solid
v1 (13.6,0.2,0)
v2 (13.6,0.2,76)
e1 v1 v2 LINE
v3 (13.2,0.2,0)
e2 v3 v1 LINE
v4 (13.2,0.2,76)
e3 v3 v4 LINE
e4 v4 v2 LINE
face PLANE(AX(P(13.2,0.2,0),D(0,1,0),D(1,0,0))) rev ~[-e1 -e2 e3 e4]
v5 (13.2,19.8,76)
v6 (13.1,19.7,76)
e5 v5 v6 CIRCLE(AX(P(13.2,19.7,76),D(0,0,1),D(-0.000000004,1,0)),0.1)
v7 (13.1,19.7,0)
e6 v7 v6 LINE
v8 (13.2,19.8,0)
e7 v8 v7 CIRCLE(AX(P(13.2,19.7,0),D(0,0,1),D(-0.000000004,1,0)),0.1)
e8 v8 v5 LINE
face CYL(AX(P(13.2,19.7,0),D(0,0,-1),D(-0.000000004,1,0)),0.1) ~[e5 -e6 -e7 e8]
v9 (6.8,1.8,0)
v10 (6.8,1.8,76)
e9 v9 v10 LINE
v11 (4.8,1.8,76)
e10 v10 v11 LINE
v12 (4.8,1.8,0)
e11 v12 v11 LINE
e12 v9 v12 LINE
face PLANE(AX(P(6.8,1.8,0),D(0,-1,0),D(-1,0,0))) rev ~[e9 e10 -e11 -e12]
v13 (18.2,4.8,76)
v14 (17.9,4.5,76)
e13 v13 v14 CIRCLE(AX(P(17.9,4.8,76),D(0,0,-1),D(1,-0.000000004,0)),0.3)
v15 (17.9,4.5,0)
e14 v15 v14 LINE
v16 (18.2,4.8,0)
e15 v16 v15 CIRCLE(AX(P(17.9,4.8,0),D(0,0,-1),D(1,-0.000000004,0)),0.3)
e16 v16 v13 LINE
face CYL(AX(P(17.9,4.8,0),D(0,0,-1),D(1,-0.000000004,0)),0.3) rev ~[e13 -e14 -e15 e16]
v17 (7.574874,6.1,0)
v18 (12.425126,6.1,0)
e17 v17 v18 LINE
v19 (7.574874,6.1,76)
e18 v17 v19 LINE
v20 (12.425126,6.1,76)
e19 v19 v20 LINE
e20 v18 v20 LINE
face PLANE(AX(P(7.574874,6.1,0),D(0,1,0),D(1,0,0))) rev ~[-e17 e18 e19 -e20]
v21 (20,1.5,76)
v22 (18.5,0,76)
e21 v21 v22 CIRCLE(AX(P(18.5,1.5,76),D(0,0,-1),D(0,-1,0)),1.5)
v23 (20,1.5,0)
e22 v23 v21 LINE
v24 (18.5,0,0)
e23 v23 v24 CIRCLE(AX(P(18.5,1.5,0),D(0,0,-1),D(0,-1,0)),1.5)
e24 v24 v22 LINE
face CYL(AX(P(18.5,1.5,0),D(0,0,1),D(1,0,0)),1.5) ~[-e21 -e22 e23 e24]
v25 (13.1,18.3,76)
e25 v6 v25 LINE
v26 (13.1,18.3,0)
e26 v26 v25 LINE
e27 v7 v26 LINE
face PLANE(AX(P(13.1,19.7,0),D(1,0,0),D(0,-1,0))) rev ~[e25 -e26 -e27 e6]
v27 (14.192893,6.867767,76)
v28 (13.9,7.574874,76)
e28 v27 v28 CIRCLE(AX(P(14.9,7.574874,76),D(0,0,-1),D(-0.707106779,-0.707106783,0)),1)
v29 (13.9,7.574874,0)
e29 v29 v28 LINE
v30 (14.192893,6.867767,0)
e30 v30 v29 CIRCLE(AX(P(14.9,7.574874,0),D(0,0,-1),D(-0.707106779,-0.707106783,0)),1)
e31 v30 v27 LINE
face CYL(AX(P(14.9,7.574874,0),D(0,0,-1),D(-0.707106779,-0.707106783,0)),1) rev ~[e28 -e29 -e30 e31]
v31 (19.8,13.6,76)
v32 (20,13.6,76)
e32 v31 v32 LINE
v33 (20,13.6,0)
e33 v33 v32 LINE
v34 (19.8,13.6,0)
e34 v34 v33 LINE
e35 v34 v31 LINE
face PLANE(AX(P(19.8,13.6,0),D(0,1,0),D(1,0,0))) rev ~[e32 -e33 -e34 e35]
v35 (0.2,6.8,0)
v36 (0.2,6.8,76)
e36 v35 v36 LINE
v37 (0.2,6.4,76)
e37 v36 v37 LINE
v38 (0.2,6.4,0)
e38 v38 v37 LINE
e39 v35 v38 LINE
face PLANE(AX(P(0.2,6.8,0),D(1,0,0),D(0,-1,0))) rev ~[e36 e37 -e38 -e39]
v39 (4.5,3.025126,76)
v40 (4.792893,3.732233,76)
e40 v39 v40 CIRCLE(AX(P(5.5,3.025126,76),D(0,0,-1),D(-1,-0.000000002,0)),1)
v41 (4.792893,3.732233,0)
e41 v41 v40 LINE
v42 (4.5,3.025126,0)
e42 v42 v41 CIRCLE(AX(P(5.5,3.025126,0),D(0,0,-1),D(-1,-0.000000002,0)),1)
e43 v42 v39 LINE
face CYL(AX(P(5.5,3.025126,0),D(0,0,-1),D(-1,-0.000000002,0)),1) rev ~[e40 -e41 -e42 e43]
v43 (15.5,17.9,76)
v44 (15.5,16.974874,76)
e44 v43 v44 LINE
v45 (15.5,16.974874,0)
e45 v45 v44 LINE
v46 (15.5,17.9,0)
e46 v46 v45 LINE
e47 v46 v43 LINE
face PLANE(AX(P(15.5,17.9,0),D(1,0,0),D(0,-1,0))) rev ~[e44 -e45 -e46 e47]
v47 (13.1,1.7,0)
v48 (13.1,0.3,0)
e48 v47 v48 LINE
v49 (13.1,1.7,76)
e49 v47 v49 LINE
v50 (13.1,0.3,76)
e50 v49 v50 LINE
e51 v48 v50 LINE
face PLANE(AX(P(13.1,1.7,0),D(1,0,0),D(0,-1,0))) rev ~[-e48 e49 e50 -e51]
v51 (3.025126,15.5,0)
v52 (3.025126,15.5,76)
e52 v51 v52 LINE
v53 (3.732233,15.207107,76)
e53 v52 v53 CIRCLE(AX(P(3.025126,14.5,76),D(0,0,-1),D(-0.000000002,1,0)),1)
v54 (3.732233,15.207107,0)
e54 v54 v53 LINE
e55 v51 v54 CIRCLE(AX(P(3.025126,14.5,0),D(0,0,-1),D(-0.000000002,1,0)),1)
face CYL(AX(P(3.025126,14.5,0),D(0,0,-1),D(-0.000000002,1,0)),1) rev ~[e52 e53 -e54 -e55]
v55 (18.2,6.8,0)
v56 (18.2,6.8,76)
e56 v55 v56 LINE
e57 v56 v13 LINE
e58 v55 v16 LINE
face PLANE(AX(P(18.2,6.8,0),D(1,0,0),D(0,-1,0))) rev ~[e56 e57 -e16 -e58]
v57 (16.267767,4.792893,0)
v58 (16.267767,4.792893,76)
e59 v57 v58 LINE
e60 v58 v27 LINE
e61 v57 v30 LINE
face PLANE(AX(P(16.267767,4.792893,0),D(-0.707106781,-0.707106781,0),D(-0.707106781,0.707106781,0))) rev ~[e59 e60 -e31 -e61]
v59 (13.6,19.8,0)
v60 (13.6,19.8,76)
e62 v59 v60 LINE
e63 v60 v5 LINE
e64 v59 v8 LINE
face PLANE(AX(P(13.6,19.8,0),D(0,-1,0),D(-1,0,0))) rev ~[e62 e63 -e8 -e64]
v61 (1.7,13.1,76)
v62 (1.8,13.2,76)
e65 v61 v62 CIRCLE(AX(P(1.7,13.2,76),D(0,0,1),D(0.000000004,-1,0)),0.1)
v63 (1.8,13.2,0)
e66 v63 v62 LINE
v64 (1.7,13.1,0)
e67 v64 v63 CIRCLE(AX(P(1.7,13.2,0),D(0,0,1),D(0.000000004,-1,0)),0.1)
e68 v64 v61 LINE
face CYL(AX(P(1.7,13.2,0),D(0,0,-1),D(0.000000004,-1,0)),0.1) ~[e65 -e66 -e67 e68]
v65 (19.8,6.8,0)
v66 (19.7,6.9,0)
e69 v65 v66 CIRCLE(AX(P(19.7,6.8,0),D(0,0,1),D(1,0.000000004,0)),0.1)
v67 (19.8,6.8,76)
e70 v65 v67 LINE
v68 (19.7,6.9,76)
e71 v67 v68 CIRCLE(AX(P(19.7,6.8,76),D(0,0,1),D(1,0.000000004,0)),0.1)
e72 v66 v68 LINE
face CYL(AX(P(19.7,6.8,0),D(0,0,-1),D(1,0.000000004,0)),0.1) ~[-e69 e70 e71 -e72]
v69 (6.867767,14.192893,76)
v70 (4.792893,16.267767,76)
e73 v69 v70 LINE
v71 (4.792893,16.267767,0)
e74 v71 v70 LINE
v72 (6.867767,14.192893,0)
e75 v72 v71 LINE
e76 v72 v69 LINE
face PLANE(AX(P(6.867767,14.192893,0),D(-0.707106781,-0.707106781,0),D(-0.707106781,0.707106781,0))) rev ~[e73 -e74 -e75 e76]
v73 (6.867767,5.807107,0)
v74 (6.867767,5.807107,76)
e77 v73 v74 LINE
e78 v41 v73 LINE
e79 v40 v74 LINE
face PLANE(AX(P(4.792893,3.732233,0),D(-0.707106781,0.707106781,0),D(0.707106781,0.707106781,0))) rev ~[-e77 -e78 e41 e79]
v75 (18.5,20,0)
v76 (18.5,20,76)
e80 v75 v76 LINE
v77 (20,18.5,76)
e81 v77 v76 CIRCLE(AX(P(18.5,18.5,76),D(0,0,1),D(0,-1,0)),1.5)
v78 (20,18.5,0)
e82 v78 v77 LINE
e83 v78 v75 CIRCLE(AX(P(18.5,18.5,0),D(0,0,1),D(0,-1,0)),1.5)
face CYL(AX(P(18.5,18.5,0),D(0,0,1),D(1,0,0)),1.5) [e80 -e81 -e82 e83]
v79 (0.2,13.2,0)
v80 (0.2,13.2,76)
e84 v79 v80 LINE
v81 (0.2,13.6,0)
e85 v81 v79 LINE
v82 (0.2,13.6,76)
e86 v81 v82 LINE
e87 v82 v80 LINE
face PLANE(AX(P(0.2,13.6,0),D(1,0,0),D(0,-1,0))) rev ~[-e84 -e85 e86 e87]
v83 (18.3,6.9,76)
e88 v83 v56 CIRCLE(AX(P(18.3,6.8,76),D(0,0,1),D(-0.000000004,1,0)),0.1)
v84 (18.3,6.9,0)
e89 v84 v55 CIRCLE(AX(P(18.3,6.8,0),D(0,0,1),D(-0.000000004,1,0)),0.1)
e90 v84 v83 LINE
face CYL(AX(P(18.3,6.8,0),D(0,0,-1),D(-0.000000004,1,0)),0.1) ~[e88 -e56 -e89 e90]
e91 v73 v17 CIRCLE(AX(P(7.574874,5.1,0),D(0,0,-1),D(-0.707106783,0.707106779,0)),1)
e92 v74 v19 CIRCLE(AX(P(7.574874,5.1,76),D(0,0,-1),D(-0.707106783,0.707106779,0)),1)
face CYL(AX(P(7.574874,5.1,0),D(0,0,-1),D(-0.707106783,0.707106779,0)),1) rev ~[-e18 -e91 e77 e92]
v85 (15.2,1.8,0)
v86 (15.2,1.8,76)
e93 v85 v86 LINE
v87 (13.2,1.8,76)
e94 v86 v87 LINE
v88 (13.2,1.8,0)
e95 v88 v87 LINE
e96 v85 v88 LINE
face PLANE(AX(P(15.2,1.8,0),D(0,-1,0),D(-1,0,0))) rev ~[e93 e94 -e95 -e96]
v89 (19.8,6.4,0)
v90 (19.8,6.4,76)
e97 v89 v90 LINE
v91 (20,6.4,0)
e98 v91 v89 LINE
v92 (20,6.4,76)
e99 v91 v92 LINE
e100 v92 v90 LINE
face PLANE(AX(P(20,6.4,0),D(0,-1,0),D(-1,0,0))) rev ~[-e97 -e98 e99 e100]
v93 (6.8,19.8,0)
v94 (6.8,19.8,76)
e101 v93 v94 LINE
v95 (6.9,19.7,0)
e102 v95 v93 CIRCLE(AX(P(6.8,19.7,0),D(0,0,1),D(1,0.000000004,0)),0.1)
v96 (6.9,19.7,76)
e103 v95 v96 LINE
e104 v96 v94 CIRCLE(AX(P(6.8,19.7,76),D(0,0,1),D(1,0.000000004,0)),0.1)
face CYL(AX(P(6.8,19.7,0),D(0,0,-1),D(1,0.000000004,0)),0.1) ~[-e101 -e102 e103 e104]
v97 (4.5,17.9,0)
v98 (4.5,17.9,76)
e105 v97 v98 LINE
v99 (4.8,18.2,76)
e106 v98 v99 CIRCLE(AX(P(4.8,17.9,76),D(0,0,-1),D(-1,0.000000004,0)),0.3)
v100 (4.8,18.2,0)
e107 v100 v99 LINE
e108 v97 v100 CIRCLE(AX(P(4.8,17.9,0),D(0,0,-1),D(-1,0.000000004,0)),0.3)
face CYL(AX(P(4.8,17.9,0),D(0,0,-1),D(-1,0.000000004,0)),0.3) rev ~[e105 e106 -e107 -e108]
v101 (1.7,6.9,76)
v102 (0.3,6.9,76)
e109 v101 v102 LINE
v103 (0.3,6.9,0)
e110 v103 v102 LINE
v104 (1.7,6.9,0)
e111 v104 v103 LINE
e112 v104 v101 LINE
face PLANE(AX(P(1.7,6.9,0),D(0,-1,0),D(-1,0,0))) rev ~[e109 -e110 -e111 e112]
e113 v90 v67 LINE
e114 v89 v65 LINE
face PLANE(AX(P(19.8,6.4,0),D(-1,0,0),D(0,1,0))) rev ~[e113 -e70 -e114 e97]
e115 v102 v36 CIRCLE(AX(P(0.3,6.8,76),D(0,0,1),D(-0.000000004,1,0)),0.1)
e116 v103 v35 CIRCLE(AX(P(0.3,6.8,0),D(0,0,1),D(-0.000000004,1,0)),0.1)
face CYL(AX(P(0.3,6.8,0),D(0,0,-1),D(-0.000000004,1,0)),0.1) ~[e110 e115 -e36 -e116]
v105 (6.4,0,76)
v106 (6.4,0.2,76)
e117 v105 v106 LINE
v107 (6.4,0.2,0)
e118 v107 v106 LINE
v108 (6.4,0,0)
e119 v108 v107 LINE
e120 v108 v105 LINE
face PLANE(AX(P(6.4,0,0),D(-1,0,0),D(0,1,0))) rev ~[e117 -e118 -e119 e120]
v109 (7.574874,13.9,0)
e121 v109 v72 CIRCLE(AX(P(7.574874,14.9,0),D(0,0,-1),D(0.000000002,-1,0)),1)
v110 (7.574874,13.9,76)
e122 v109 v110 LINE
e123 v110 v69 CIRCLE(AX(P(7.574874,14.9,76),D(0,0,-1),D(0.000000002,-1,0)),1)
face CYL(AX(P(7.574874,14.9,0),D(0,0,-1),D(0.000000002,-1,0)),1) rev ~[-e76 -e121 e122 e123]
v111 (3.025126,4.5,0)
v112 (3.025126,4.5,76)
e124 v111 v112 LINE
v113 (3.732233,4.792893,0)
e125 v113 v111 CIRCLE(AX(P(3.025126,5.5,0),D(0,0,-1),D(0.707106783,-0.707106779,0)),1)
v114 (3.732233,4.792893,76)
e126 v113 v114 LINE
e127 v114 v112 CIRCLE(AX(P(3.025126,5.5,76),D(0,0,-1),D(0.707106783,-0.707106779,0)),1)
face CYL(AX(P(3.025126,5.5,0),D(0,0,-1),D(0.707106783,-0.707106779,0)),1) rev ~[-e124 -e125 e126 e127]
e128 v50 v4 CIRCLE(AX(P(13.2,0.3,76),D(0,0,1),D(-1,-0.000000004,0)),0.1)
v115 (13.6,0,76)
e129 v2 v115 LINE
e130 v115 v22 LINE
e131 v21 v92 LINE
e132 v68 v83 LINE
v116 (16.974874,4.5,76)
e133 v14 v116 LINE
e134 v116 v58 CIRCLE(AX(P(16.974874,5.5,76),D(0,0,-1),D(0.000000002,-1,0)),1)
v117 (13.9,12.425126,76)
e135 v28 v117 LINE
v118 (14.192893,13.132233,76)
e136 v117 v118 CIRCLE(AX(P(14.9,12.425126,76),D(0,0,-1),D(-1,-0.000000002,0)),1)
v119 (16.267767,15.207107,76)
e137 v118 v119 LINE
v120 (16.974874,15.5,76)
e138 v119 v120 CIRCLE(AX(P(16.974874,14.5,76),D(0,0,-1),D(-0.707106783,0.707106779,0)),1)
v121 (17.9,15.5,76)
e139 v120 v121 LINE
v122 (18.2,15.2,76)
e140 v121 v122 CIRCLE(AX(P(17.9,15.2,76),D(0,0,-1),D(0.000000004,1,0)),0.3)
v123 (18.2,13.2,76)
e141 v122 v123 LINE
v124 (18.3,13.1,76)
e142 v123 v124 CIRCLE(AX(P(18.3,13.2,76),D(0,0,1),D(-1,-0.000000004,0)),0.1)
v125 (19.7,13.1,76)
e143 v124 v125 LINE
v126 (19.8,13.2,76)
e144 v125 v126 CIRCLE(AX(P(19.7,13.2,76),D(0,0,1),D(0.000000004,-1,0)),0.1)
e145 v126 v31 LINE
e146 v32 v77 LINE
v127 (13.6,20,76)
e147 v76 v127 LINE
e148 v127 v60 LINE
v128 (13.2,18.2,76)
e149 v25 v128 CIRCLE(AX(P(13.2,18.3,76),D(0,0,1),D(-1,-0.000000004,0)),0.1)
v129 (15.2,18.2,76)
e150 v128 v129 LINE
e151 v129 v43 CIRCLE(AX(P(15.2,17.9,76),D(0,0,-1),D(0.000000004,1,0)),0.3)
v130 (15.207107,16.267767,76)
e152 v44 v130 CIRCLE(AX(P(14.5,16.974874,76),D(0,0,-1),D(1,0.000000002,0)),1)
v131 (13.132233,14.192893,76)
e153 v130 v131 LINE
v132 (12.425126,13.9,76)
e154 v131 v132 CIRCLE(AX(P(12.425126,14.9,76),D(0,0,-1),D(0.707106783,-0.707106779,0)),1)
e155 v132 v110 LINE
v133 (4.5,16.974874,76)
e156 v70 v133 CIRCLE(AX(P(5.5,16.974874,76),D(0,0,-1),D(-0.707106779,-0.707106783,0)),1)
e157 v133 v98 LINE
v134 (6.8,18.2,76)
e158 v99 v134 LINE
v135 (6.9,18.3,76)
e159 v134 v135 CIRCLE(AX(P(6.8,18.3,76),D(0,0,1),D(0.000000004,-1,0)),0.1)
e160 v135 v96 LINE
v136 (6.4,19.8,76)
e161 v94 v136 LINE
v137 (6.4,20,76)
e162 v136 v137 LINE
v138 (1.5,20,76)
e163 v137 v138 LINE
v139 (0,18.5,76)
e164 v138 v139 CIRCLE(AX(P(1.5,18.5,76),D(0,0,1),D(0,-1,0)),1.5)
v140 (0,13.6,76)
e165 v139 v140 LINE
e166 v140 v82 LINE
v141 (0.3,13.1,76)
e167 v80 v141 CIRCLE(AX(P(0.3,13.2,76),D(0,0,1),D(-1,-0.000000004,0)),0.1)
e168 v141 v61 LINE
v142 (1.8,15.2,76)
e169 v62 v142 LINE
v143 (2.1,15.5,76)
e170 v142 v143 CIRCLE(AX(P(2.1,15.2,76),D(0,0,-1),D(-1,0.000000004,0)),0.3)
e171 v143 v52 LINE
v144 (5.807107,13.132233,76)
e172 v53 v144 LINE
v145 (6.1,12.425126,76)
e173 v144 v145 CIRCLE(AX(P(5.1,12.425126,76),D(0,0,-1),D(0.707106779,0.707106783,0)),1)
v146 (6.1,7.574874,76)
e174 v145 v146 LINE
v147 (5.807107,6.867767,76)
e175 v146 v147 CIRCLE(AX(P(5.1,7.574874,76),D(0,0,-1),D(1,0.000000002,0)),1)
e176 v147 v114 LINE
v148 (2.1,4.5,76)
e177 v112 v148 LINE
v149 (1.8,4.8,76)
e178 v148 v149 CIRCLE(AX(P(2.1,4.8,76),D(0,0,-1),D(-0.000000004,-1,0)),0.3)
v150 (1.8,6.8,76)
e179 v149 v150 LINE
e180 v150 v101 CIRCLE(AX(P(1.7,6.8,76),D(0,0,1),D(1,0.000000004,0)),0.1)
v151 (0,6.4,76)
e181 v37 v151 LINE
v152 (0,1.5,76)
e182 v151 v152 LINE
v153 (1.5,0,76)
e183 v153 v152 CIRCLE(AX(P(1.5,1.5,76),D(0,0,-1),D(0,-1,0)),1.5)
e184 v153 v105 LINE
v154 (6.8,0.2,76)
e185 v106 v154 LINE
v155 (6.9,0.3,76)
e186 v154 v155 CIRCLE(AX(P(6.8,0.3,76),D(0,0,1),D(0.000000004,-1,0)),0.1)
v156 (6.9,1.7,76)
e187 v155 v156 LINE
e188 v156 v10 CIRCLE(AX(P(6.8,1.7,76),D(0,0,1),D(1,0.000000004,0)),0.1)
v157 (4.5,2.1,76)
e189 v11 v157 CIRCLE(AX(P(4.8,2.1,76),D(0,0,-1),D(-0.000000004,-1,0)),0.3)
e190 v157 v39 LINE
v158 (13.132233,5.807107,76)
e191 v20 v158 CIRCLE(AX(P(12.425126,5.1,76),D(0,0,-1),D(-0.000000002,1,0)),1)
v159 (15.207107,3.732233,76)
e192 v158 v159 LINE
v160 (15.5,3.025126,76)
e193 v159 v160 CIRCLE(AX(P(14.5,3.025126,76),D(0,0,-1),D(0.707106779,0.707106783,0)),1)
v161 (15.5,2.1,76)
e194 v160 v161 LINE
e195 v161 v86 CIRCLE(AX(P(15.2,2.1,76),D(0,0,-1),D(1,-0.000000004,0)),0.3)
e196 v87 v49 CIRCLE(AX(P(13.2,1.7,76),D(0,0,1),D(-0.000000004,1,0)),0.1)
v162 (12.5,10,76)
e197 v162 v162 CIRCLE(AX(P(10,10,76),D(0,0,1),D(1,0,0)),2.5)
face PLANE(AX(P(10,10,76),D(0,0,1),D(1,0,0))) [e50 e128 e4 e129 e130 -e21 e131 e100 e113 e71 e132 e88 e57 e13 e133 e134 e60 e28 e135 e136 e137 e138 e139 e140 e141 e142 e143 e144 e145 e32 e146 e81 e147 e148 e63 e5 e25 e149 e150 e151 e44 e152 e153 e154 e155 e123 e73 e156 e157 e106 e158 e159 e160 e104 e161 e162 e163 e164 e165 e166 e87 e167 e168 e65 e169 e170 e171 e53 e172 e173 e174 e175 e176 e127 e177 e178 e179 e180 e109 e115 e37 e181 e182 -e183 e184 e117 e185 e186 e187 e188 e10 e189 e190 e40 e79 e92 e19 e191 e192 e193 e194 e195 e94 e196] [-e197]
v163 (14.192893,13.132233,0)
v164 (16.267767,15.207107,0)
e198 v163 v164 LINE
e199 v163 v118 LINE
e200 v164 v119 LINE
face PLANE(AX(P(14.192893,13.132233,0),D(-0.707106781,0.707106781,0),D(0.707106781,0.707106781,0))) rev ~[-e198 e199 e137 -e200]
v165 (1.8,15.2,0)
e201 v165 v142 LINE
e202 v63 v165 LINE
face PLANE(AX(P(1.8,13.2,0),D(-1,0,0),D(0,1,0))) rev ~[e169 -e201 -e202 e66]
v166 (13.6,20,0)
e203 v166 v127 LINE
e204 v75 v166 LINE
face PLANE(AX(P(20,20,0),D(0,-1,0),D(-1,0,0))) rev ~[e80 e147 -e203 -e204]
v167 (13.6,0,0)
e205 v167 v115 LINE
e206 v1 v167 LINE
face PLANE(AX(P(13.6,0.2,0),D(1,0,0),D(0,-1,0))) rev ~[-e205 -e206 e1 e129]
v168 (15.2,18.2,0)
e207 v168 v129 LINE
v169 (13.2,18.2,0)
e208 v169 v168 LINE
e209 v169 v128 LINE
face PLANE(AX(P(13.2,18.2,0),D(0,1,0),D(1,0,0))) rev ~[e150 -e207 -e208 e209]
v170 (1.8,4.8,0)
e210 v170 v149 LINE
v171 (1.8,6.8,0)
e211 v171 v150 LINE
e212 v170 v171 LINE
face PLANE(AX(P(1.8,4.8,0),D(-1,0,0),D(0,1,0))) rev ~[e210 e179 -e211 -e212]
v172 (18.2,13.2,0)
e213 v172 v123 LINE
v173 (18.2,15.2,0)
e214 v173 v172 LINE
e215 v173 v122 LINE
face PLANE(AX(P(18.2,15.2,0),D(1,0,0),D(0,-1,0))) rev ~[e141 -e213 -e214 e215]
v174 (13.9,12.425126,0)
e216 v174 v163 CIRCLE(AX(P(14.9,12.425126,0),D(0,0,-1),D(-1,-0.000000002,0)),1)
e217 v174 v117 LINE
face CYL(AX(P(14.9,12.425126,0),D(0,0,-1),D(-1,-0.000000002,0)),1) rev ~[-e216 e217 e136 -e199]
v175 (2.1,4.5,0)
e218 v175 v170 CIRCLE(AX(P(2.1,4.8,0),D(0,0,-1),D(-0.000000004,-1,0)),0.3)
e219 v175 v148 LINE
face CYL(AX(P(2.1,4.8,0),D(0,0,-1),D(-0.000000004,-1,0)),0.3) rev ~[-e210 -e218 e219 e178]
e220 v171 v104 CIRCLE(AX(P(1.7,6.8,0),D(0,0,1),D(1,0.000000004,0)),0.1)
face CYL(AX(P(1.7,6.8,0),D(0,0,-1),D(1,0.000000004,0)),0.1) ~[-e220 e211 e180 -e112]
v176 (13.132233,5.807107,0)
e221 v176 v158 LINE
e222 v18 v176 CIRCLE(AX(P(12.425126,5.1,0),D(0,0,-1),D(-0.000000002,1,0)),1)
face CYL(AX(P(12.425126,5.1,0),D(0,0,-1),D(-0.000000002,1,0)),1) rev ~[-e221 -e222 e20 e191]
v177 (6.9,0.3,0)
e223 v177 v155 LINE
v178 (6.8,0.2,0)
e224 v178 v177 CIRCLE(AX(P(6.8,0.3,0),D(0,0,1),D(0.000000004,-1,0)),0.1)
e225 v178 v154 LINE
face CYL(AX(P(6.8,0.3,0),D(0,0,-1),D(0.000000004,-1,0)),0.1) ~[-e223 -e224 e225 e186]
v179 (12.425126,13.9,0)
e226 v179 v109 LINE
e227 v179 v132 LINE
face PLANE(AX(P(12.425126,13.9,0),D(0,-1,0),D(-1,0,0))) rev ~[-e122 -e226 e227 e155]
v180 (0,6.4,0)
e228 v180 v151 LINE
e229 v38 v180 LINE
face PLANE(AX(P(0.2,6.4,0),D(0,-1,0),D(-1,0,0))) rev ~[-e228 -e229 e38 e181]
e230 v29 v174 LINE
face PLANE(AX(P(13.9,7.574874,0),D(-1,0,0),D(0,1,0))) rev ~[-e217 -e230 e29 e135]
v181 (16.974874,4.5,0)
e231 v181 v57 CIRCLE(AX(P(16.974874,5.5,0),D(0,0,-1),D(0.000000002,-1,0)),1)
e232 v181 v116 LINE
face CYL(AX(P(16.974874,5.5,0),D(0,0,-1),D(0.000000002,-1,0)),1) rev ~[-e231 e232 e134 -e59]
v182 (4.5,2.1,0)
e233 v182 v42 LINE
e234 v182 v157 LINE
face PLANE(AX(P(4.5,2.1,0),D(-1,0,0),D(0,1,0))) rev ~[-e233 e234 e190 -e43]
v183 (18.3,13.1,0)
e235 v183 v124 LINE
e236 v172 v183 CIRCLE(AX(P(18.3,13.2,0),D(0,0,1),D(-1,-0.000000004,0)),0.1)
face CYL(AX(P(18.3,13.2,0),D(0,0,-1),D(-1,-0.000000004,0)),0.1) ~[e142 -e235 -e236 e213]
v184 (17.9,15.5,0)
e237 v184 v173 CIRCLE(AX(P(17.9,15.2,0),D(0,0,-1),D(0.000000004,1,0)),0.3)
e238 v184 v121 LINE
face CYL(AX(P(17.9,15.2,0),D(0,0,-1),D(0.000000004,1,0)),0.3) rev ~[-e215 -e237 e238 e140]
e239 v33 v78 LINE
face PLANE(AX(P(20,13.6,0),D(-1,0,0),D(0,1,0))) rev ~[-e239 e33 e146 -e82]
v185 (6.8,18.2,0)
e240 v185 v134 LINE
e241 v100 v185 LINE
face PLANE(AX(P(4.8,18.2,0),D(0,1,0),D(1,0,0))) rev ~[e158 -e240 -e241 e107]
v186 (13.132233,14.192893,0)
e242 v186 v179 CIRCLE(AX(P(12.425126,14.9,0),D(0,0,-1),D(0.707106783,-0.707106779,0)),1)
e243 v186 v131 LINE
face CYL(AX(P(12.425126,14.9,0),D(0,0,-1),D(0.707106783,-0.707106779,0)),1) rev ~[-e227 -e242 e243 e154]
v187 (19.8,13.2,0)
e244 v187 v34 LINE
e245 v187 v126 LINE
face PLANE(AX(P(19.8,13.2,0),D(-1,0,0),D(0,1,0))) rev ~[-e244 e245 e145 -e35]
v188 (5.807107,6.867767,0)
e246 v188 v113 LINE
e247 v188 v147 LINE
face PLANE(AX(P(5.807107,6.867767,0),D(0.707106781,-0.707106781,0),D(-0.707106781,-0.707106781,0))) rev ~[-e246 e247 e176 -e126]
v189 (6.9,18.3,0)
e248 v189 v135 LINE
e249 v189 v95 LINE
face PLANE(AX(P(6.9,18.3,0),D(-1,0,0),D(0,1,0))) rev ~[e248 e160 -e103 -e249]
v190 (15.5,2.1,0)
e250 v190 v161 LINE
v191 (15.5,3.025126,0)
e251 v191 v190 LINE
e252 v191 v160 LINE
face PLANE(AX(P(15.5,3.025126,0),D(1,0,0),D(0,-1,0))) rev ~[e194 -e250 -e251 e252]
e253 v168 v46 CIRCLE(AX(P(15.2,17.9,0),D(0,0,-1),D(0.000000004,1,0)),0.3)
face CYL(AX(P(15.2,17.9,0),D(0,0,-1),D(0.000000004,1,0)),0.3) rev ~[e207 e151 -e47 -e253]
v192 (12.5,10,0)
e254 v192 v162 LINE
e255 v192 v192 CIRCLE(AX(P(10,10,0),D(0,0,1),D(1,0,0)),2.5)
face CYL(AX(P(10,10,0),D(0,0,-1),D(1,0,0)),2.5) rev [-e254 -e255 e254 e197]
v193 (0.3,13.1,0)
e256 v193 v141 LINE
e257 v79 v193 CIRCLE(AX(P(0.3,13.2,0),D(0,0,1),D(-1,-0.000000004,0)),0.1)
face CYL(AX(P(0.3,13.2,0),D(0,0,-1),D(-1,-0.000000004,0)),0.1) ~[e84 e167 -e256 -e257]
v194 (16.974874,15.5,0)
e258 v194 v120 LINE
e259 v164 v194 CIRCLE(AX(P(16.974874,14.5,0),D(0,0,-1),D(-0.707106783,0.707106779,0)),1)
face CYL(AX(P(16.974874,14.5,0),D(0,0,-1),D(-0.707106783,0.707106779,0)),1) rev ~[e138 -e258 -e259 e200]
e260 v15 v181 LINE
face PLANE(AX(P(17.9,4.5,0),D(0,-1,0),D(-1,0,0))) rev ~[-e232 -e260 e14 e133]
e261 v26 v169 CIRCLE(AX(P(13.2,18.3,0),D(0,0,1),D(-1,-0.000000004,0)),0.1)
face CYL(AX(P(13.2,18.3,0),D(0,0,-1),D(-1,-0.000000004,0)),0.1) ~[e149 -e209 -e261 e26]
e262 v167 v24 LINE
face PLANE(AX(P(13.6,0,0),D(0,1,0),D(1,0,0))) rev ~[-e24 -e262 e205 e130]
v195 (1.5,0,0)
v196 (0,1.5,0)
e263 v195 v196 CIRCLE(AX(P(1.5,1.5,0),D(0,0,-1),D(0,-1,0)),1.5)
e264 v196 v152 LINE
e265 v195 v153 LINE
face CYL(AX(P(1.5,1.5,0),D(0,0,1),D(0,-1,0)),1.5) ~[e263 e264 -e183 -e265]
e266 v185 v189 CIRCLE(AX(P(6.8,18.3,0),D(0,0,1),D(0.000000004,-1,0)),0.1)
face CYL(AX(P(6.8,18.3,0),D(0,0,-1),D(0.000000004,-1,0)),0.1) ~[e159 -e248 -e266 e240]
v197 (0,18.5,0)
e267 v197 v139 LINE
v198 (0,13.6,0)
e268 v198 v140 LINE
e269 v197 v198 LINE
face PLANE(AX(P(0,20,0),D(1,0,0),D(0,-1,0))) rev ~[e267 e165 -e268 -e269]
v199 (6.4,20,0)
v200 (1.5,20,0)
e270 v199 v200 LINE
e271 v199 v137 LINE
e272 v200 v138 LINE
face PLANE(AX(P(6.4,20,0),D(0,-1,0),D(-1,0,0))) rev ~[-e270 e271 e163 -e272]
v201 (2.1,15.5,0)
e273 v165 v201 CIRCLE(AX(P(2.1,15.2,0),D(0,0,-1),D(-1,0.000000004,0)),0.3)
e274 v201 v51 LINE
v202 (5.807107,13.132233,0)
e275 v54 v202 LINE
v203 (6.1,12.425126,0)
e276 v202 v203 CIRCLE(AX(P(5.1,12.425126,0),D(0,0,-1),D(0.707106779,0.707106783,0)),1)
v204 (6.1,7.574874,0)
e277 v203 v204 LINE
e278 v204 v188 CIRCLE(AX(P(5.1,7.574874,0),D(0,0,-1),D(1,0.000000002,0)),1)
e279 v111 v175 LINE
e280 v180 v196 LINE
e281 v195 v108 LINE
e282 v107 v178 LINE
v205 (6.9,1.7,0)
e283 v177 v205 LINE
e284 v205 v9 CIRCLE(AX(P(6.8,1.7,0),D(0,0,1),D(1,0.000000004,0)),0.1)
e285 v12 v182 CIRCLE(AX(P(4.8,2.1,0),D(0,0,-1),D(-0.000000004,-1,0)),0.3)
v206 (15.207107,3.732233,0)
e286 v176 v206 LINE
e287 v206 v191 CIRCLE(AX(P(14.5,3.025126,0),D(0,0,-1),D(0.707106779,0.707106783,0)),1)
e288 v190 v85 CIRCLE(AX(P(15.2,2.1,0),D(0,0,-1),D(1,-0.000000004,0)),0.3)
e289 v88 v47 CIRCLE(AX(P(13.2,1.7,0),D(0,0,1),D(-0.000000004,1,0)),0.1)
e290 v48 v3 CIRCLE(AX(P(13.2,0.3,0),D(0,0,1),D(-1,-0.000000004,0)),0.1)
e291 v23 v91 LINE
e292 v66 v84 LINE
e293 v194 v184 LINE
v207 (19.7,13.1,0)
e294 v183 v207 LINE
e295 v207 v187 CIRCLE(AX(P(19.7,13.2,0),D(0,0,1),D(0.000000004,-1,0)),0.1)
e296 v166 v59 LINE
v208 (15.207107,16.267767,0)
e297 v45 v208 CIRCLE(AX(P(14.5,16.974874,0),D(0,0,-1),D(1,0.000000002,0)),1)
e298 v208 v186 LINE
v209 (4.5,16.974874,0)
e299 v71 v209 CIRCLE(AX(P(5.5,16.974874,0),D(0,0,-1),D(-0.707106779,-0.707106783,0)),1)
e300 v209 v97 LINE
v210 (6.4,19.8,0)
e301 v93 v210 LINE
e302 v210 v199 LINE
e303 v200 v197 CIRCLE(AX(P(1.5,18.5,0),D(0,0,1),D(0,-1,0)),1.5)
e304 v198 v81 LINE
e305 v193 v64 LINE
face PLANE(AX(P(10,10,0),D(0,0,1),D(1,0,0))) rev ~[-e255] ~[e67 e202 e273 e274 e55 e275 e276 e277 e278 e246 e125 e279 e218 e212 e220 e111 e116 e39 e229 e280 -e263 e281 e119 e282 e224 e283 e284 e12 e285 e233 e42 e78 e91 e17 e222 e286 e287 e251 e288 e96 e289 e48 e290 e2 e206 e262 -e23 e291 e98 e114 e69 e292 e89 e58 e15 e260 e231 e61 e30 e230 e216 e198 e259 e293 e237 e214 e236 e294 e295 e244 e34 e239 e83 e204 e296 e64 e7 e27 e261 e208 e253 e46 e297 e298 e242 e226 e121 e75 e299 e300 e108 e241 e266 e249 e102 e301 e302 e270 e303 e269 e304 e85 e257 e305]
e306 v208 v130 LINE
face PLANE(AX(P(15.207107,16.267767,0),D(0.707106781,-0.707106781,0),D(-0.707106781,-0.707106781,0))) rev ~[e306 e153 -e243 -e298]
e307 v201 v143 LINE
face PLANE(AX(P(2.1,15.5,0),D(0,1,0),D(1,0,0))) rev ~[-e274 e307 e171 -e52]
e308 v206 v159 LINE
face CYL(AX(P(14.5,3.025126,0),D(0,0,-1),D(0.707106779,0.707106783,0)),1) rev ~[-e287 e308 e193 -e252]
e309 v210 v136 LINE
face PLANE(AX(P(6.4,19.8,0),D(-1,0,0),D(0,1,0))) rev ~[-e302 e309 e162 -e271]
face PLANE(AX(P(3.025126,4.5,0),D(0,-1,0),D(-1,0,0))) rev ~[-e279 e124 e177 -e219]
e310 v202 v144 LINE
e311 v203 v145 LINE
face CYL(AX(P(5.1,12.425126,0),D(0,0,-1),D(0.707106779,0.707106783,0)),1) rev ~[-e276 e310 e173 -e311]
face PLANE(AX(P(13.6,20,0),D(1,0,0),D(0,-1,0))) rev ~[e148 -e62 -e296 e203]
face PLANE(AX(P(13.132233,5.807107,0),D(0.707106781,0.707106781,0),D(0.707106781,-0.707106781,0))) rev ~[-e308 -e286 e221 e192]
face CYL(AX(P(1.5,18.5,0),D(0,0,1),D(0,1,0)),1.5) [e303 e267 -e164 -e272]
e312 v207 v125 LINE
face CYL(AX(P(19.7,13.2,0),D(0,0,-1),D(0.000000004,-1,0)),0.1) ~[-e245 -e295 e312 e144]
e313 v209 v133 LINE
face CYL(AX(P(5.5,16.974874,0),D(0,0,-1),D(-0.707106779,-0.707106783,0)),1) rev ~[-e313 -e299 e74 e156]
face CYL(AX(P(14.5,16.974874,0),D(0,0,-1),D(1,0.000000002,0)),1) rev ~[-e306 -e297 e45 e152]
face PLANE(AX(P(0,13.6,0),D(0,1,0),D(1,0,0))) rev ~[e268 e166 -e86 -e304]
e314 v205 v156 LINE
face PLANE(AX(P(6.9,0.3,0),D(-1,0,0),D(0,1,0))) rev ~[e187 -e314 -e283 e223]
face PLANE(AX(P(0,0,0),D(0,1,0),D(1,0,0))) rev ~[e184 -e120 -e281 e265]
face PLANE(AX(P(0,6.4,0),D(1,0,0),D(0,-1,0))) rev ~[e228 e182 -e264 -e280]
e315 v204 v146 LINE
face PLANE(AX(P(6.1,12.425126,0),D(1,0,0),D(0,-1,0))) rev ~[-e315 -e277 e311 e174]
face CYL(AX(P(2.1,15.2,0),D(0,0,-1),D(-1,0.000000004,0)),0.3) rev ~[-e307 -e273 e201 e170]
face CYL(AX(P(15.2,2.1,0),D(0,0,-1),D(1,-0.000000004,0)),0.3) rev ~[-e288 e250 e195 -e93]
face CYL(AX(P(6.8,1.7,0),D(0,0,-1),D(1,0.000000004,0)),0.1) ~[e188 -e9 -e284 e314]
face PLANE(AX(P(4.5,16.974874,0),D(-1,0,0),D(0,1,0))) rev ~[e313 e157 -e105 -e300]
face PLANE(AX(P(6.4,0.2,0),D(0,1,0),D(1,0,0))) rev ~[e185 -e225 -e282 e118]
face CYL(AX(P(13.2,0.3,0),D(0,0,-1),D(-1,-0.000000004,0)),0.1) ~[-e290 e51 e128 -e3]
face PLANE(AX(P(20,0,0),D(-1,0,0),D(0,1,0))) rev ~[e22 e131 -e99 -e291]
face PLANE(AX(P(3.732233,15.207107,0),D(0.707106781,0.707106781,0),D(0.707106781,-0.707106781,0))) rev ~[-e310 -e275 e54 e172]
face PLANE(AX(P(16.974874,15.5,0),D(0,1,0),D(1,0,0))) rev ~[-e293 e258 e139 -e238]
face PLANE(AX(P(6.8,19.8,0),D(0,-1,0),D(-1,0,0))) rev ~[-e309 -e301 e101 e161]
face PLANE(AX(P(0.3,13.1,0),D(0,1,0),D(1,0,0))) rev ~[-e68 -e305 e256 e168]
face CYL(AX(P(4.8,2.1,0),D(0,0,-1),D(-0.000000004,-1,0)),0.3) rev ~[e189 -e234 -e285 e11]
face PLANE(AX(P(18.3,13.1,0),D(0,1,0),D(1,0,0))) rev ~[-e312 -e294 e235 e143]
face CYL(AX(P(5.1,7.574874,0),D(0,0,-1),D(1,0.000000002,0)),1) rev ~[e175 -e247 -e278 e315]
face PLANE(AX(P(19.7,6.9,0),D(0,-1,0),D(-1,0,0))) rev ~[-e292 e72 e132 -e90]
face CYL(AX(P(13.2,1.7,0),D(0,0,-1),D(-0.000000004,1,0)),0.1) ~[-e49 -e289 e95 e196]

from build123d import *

# Parameters (mm, degrees)
SKETCH_1_R      = 2.5
EXTRUDE_1_DEPTH = 76
FILLET_1_R      = 1.5


with BuildPart() as part:
    # 草图1 → 凸台-拉伸1 (new body)
    with BuildSketch(Plane.XY):
        with BuildLine():
            Line((20, 13.6), (20, 20))
            Line((20, 20), (13.6, 20))
            Line((13.6, 20), (13.6, 19.8))
            Line((13.6, 19.8), (13.2, 19.8))
            ThreePointArc((13.2, 19.8), (13.129289322, 19.770710678), (13.1, 19.7))
            Line((13.1, 19.7), (13.1, 18.3))
            ThreePointArc((13.1, 18.3), (13.129289322, 18.229289322), (13.2, 18.2))
            Line((13.2, 18.2), (15.2, 18.2))
            ThreePointArc((15.2, 18.2), (15.412132034, 18.112132034), (15.5, 17.9))
            Line((15.5, 17.9), (15.5, 16.974873734))
            ThreePointArc((15.5, 16.974873734), (15.423879533, 16.592190302), (15.207106781, 16.267766953))
            Line((15.207106781, 16.267766953), (13.132233047, 14.192893219))
            ThreePointArc((13.132233047, 14.192893219), (12.807809698, 13.976120467), (12.425126266, 13.9))
            Line((12.425126266, 13.9), (7.574873734, 13.9))
            ThreePointArc((7.574873734, 13.9), (7.192190302, 13.976120467), (6.867766953, 14.192893219))
            Line((6.867766953, 14.192893219), (4.792893219, 16.267766953))
            ThreePointArc((4.792893219, 16.267766953), (4.576120467, 16.592190302), (4.5, 16.974873734))
            Line((4.5, 16.974873734), (4.5, 17.9))
            ThreePointArc((4.5, 17.9), (4.587867966, 18.112132034), (4.8, 18.2))
            Line((4.8, 18.2), (6.8, 18.2))
            ThreePointArc((6.8, 18.2), (6.870710678, 18.229289322), (6.9, 18.3))
            Line((6.9, 18.3), (6.9, 19.7))
            ThreePointArc((6.9, 19.7), (6.870710678, 19.770710678), (6.8, 19.8))
            Line((6.8, 19.8), (6.4, 19.8))
            Line((6.4, 19.8), (6.4, 20))
            Line((6.4, 20), (0, 20))
            Line((0, 20), (0, 13.6))
            Line((0, 13.6), (0.2, 13.6))
            Line((0.2, 13.6), (0.2, 13.2))
            ThreePointArc((0.2, 13.2), (0.229289322, 13.129289322), (0.3, 13.1))
            Line((0.3, 13.1), (1.7, 13.1))
            ThreePointArc((1.7, 13.1), (1.770710678, 13.129289322), (1.8, 13.2))
            Line((1.8, 13.2), (1.8, 15.2))
            ThreePointArc((1.8, 15.2), (1.887867966, 15.412132034), (2.1, 15.5))
            Line((2.1, 15.5), (3.025126266, 15.5))
            ThreePointArc((3.025126266, 15.5), (3.407809698, 15.423879533), (3.732233047, 15.207106781))
            Line((3.732233047, 15.207106781), (5.807106781, 13.132233047))
            ThreePointArc((5.807106781, 13.132233047), (6.023879533, 12.807809698), (6.1, 12.425126266))
            Line((6.1, 12.425126266), (6.1, 7.574873734))
            ThreePointArc((6.1, 7.574873734), (6.023879533, 7.192190302), (5.807106781, 6.867766953))
            Line((5.807106781, 6.867766953), (3.732233047, 4.792893219))
            ThreePointArc((3.732233047, 4.792893219), (3.407809698, 4.576120467), (3.025126266, 4.5))
            Line((3.025126266, 4.5), (2.1, 4.5))
            ThreePointArc((2.1, 4.5), (1.887867966, 4.587867966), (1.8, 4.8))
            Line((1.8, 4.8), (1.8, 6.8))
            ThreePointArc((1.8, 6.8), (1.770710678, 6.870710678), (1.7, 6.9))
            Line((1.7, 6.9), (0.3, 6.9))
            ThreePointArc((0.3, 6.9), (0.229289322, 6.870710678), (0.2, 6.8))
            Line((0.2, 6.8), (0.2, 6.4))
            Line((0.2, 6.4), (0, 6.4))
            Line((0, 6.4), (0, 0))
            Line((0, 0), (6.4, 0))
            Line((6.4, 0), (6.4, 0.2))
            Line((6.4, 0.2), (6.8, 0.2))
            ThreePointArc((6.8, 0.2), (6.870710678, 0.229289322), (6.9, 0.3))
            Line((6.9, 0.3), (6.9, 1.7))
            ThreePointArc((6.9, 1.7), (6.870710678, 1.770710678), (6.8, 1.8))
            Line((6.8, 1.8), (4.8, 1.8))
            ThreePointArc((4.8, 1.8), (4.587867966, 1.887867966), (4.5, 2.1))
            Line((4.5, 2.1), (4.5, 3.025126266))
            ThreePointArc((4.5, 3.025126266), (4.576120467, 3.407809698), (4.792893219, 3.732233047))
            Line((4.792893219, 3.732233047), (6.867766953, 5.807106781))
            ThreePointArc((6.867766953, 5.807106781), (7.192190302, 6.023879533), (7.574873734, 6.1))
            Line((7.574873734, 6.1), (12.425126266, 6.1))
            ThreePointArc((12.425126266, 6.1), (12.807809698, 6.023879533), (13.132233047, 5.807106781))
            Line((13.132233047, 5.807106781), (15.207106781, 3.732233047))
            ThreePointArc((15.207106781, 3.732233047), (15.423879533, 3.407809698), (15.5, 3.025126266))
            Line((15.5, 3.025126266), (15.5, 2.1))
            ThreePointArc((15.5, 2.1), (15.412132034, 1.887867966), (15.2, 1.8))
            Line((15.2, 1.8), (13.2, 1.8))
            ThreePointArc((13.2, 1.8), (13.129289322, 1.770710678), (13.1, 1.7))
            Line((13.1, 1.7), (13.1, 0.3))
            ThreePointArc((13.1, 0.3), (13.129289322, 0.229289322), (13.2, 0.2))
            Line((13.2, 0.2), (13.6, 0.2))
            Line((13.6, 0.2), (13.6, 0))
            Line((13.6, 0), (20, 0))
            Line((20, 0), (20, 6.4))
            Line((20, 6.4), (19.8, 6.4))
            Line((19.8, 6.4), (19.8, 6.8))
            ThreePointArc((19.8, 6.8), (19.770710678, 6.870710678), (19.7, 6.9))
            Line((19.7, 6.9), (18.3, 6.9))
            ThreePointArc((18.3, 6.9), (18.229289322, 6.870710678), (18.2, 6.8))
            Line((18.2, 6.8), (18.2, 4.8))
            ThreePointArc((18.2, 4.8), (18.112132034, 4.587867966), (17.9, 4.5))
            Line((17.9, 4.5), (16.974873734, 4.5))
            ThreePointArc((16.974873734, 4.5), (16.592190302, 4.576120467), (16.267766953, 4.792893219))
            Line((16.267766953, 4.792893219), (14.192893219, 6.867766953))
            ThreePointArc((14.192893219, 6.867766953), (13.976120467, 7.192190302), (13.9, 7.574873734))
            Line((13.9, 7.574873734), (13.9, 12.425126266))
            ThreePointArc((13.9, 12.425126266), (13.976120467, 12.807809698), (14.192893219, 13.132233047))
            Line((14.192893219, 13.132233047), (16.267766953, 15.207106781))
            ThreePointArc((16.267766953, 15.207106781), (16.592190302, 15.423879533), (16.974873734, 15.5))
            Line((16.974873734, 15.5), (17.9, 15.5))
            ThreePointArc((17.9, 15.5), (18.112132034, 15.412132034), (18.2, 15.2))
            Line((18.2, 15.2), (18.2, 13.2))
            ThreePointArc((18.2, 13.2), (18.229289322, 13.129289322), (18.3, 13.1))
            Line((18.3, 13.1), (19.7, 13.1))
            ThreePointArc((19.7, 13.1), (19.770710678, 13.129289322), (19.8, 13.2))
            Line((19.8, 13.2), (19.8, 13.6))
            Line((19.8, 13.6), (20, 13.6))
        make_face()
        with Locations((10, 10)):
            Circle(SKETCH_1_R, mode=Mode.SUBTRACT)
    extrude(amount=EXTRUDE_1_DEPTH)

    # 圆角1
    fillet_1_edges = [part.edges().sort_by_distance(p)[0] for p in [
        (0, 0, 38),
        (0, 20, 38),
        (20, 20, 38),
        (20, 0, 38),
    ]]
    fillet(fillet_1_edges, radius=FILLET_1_R)


solid = part.part
